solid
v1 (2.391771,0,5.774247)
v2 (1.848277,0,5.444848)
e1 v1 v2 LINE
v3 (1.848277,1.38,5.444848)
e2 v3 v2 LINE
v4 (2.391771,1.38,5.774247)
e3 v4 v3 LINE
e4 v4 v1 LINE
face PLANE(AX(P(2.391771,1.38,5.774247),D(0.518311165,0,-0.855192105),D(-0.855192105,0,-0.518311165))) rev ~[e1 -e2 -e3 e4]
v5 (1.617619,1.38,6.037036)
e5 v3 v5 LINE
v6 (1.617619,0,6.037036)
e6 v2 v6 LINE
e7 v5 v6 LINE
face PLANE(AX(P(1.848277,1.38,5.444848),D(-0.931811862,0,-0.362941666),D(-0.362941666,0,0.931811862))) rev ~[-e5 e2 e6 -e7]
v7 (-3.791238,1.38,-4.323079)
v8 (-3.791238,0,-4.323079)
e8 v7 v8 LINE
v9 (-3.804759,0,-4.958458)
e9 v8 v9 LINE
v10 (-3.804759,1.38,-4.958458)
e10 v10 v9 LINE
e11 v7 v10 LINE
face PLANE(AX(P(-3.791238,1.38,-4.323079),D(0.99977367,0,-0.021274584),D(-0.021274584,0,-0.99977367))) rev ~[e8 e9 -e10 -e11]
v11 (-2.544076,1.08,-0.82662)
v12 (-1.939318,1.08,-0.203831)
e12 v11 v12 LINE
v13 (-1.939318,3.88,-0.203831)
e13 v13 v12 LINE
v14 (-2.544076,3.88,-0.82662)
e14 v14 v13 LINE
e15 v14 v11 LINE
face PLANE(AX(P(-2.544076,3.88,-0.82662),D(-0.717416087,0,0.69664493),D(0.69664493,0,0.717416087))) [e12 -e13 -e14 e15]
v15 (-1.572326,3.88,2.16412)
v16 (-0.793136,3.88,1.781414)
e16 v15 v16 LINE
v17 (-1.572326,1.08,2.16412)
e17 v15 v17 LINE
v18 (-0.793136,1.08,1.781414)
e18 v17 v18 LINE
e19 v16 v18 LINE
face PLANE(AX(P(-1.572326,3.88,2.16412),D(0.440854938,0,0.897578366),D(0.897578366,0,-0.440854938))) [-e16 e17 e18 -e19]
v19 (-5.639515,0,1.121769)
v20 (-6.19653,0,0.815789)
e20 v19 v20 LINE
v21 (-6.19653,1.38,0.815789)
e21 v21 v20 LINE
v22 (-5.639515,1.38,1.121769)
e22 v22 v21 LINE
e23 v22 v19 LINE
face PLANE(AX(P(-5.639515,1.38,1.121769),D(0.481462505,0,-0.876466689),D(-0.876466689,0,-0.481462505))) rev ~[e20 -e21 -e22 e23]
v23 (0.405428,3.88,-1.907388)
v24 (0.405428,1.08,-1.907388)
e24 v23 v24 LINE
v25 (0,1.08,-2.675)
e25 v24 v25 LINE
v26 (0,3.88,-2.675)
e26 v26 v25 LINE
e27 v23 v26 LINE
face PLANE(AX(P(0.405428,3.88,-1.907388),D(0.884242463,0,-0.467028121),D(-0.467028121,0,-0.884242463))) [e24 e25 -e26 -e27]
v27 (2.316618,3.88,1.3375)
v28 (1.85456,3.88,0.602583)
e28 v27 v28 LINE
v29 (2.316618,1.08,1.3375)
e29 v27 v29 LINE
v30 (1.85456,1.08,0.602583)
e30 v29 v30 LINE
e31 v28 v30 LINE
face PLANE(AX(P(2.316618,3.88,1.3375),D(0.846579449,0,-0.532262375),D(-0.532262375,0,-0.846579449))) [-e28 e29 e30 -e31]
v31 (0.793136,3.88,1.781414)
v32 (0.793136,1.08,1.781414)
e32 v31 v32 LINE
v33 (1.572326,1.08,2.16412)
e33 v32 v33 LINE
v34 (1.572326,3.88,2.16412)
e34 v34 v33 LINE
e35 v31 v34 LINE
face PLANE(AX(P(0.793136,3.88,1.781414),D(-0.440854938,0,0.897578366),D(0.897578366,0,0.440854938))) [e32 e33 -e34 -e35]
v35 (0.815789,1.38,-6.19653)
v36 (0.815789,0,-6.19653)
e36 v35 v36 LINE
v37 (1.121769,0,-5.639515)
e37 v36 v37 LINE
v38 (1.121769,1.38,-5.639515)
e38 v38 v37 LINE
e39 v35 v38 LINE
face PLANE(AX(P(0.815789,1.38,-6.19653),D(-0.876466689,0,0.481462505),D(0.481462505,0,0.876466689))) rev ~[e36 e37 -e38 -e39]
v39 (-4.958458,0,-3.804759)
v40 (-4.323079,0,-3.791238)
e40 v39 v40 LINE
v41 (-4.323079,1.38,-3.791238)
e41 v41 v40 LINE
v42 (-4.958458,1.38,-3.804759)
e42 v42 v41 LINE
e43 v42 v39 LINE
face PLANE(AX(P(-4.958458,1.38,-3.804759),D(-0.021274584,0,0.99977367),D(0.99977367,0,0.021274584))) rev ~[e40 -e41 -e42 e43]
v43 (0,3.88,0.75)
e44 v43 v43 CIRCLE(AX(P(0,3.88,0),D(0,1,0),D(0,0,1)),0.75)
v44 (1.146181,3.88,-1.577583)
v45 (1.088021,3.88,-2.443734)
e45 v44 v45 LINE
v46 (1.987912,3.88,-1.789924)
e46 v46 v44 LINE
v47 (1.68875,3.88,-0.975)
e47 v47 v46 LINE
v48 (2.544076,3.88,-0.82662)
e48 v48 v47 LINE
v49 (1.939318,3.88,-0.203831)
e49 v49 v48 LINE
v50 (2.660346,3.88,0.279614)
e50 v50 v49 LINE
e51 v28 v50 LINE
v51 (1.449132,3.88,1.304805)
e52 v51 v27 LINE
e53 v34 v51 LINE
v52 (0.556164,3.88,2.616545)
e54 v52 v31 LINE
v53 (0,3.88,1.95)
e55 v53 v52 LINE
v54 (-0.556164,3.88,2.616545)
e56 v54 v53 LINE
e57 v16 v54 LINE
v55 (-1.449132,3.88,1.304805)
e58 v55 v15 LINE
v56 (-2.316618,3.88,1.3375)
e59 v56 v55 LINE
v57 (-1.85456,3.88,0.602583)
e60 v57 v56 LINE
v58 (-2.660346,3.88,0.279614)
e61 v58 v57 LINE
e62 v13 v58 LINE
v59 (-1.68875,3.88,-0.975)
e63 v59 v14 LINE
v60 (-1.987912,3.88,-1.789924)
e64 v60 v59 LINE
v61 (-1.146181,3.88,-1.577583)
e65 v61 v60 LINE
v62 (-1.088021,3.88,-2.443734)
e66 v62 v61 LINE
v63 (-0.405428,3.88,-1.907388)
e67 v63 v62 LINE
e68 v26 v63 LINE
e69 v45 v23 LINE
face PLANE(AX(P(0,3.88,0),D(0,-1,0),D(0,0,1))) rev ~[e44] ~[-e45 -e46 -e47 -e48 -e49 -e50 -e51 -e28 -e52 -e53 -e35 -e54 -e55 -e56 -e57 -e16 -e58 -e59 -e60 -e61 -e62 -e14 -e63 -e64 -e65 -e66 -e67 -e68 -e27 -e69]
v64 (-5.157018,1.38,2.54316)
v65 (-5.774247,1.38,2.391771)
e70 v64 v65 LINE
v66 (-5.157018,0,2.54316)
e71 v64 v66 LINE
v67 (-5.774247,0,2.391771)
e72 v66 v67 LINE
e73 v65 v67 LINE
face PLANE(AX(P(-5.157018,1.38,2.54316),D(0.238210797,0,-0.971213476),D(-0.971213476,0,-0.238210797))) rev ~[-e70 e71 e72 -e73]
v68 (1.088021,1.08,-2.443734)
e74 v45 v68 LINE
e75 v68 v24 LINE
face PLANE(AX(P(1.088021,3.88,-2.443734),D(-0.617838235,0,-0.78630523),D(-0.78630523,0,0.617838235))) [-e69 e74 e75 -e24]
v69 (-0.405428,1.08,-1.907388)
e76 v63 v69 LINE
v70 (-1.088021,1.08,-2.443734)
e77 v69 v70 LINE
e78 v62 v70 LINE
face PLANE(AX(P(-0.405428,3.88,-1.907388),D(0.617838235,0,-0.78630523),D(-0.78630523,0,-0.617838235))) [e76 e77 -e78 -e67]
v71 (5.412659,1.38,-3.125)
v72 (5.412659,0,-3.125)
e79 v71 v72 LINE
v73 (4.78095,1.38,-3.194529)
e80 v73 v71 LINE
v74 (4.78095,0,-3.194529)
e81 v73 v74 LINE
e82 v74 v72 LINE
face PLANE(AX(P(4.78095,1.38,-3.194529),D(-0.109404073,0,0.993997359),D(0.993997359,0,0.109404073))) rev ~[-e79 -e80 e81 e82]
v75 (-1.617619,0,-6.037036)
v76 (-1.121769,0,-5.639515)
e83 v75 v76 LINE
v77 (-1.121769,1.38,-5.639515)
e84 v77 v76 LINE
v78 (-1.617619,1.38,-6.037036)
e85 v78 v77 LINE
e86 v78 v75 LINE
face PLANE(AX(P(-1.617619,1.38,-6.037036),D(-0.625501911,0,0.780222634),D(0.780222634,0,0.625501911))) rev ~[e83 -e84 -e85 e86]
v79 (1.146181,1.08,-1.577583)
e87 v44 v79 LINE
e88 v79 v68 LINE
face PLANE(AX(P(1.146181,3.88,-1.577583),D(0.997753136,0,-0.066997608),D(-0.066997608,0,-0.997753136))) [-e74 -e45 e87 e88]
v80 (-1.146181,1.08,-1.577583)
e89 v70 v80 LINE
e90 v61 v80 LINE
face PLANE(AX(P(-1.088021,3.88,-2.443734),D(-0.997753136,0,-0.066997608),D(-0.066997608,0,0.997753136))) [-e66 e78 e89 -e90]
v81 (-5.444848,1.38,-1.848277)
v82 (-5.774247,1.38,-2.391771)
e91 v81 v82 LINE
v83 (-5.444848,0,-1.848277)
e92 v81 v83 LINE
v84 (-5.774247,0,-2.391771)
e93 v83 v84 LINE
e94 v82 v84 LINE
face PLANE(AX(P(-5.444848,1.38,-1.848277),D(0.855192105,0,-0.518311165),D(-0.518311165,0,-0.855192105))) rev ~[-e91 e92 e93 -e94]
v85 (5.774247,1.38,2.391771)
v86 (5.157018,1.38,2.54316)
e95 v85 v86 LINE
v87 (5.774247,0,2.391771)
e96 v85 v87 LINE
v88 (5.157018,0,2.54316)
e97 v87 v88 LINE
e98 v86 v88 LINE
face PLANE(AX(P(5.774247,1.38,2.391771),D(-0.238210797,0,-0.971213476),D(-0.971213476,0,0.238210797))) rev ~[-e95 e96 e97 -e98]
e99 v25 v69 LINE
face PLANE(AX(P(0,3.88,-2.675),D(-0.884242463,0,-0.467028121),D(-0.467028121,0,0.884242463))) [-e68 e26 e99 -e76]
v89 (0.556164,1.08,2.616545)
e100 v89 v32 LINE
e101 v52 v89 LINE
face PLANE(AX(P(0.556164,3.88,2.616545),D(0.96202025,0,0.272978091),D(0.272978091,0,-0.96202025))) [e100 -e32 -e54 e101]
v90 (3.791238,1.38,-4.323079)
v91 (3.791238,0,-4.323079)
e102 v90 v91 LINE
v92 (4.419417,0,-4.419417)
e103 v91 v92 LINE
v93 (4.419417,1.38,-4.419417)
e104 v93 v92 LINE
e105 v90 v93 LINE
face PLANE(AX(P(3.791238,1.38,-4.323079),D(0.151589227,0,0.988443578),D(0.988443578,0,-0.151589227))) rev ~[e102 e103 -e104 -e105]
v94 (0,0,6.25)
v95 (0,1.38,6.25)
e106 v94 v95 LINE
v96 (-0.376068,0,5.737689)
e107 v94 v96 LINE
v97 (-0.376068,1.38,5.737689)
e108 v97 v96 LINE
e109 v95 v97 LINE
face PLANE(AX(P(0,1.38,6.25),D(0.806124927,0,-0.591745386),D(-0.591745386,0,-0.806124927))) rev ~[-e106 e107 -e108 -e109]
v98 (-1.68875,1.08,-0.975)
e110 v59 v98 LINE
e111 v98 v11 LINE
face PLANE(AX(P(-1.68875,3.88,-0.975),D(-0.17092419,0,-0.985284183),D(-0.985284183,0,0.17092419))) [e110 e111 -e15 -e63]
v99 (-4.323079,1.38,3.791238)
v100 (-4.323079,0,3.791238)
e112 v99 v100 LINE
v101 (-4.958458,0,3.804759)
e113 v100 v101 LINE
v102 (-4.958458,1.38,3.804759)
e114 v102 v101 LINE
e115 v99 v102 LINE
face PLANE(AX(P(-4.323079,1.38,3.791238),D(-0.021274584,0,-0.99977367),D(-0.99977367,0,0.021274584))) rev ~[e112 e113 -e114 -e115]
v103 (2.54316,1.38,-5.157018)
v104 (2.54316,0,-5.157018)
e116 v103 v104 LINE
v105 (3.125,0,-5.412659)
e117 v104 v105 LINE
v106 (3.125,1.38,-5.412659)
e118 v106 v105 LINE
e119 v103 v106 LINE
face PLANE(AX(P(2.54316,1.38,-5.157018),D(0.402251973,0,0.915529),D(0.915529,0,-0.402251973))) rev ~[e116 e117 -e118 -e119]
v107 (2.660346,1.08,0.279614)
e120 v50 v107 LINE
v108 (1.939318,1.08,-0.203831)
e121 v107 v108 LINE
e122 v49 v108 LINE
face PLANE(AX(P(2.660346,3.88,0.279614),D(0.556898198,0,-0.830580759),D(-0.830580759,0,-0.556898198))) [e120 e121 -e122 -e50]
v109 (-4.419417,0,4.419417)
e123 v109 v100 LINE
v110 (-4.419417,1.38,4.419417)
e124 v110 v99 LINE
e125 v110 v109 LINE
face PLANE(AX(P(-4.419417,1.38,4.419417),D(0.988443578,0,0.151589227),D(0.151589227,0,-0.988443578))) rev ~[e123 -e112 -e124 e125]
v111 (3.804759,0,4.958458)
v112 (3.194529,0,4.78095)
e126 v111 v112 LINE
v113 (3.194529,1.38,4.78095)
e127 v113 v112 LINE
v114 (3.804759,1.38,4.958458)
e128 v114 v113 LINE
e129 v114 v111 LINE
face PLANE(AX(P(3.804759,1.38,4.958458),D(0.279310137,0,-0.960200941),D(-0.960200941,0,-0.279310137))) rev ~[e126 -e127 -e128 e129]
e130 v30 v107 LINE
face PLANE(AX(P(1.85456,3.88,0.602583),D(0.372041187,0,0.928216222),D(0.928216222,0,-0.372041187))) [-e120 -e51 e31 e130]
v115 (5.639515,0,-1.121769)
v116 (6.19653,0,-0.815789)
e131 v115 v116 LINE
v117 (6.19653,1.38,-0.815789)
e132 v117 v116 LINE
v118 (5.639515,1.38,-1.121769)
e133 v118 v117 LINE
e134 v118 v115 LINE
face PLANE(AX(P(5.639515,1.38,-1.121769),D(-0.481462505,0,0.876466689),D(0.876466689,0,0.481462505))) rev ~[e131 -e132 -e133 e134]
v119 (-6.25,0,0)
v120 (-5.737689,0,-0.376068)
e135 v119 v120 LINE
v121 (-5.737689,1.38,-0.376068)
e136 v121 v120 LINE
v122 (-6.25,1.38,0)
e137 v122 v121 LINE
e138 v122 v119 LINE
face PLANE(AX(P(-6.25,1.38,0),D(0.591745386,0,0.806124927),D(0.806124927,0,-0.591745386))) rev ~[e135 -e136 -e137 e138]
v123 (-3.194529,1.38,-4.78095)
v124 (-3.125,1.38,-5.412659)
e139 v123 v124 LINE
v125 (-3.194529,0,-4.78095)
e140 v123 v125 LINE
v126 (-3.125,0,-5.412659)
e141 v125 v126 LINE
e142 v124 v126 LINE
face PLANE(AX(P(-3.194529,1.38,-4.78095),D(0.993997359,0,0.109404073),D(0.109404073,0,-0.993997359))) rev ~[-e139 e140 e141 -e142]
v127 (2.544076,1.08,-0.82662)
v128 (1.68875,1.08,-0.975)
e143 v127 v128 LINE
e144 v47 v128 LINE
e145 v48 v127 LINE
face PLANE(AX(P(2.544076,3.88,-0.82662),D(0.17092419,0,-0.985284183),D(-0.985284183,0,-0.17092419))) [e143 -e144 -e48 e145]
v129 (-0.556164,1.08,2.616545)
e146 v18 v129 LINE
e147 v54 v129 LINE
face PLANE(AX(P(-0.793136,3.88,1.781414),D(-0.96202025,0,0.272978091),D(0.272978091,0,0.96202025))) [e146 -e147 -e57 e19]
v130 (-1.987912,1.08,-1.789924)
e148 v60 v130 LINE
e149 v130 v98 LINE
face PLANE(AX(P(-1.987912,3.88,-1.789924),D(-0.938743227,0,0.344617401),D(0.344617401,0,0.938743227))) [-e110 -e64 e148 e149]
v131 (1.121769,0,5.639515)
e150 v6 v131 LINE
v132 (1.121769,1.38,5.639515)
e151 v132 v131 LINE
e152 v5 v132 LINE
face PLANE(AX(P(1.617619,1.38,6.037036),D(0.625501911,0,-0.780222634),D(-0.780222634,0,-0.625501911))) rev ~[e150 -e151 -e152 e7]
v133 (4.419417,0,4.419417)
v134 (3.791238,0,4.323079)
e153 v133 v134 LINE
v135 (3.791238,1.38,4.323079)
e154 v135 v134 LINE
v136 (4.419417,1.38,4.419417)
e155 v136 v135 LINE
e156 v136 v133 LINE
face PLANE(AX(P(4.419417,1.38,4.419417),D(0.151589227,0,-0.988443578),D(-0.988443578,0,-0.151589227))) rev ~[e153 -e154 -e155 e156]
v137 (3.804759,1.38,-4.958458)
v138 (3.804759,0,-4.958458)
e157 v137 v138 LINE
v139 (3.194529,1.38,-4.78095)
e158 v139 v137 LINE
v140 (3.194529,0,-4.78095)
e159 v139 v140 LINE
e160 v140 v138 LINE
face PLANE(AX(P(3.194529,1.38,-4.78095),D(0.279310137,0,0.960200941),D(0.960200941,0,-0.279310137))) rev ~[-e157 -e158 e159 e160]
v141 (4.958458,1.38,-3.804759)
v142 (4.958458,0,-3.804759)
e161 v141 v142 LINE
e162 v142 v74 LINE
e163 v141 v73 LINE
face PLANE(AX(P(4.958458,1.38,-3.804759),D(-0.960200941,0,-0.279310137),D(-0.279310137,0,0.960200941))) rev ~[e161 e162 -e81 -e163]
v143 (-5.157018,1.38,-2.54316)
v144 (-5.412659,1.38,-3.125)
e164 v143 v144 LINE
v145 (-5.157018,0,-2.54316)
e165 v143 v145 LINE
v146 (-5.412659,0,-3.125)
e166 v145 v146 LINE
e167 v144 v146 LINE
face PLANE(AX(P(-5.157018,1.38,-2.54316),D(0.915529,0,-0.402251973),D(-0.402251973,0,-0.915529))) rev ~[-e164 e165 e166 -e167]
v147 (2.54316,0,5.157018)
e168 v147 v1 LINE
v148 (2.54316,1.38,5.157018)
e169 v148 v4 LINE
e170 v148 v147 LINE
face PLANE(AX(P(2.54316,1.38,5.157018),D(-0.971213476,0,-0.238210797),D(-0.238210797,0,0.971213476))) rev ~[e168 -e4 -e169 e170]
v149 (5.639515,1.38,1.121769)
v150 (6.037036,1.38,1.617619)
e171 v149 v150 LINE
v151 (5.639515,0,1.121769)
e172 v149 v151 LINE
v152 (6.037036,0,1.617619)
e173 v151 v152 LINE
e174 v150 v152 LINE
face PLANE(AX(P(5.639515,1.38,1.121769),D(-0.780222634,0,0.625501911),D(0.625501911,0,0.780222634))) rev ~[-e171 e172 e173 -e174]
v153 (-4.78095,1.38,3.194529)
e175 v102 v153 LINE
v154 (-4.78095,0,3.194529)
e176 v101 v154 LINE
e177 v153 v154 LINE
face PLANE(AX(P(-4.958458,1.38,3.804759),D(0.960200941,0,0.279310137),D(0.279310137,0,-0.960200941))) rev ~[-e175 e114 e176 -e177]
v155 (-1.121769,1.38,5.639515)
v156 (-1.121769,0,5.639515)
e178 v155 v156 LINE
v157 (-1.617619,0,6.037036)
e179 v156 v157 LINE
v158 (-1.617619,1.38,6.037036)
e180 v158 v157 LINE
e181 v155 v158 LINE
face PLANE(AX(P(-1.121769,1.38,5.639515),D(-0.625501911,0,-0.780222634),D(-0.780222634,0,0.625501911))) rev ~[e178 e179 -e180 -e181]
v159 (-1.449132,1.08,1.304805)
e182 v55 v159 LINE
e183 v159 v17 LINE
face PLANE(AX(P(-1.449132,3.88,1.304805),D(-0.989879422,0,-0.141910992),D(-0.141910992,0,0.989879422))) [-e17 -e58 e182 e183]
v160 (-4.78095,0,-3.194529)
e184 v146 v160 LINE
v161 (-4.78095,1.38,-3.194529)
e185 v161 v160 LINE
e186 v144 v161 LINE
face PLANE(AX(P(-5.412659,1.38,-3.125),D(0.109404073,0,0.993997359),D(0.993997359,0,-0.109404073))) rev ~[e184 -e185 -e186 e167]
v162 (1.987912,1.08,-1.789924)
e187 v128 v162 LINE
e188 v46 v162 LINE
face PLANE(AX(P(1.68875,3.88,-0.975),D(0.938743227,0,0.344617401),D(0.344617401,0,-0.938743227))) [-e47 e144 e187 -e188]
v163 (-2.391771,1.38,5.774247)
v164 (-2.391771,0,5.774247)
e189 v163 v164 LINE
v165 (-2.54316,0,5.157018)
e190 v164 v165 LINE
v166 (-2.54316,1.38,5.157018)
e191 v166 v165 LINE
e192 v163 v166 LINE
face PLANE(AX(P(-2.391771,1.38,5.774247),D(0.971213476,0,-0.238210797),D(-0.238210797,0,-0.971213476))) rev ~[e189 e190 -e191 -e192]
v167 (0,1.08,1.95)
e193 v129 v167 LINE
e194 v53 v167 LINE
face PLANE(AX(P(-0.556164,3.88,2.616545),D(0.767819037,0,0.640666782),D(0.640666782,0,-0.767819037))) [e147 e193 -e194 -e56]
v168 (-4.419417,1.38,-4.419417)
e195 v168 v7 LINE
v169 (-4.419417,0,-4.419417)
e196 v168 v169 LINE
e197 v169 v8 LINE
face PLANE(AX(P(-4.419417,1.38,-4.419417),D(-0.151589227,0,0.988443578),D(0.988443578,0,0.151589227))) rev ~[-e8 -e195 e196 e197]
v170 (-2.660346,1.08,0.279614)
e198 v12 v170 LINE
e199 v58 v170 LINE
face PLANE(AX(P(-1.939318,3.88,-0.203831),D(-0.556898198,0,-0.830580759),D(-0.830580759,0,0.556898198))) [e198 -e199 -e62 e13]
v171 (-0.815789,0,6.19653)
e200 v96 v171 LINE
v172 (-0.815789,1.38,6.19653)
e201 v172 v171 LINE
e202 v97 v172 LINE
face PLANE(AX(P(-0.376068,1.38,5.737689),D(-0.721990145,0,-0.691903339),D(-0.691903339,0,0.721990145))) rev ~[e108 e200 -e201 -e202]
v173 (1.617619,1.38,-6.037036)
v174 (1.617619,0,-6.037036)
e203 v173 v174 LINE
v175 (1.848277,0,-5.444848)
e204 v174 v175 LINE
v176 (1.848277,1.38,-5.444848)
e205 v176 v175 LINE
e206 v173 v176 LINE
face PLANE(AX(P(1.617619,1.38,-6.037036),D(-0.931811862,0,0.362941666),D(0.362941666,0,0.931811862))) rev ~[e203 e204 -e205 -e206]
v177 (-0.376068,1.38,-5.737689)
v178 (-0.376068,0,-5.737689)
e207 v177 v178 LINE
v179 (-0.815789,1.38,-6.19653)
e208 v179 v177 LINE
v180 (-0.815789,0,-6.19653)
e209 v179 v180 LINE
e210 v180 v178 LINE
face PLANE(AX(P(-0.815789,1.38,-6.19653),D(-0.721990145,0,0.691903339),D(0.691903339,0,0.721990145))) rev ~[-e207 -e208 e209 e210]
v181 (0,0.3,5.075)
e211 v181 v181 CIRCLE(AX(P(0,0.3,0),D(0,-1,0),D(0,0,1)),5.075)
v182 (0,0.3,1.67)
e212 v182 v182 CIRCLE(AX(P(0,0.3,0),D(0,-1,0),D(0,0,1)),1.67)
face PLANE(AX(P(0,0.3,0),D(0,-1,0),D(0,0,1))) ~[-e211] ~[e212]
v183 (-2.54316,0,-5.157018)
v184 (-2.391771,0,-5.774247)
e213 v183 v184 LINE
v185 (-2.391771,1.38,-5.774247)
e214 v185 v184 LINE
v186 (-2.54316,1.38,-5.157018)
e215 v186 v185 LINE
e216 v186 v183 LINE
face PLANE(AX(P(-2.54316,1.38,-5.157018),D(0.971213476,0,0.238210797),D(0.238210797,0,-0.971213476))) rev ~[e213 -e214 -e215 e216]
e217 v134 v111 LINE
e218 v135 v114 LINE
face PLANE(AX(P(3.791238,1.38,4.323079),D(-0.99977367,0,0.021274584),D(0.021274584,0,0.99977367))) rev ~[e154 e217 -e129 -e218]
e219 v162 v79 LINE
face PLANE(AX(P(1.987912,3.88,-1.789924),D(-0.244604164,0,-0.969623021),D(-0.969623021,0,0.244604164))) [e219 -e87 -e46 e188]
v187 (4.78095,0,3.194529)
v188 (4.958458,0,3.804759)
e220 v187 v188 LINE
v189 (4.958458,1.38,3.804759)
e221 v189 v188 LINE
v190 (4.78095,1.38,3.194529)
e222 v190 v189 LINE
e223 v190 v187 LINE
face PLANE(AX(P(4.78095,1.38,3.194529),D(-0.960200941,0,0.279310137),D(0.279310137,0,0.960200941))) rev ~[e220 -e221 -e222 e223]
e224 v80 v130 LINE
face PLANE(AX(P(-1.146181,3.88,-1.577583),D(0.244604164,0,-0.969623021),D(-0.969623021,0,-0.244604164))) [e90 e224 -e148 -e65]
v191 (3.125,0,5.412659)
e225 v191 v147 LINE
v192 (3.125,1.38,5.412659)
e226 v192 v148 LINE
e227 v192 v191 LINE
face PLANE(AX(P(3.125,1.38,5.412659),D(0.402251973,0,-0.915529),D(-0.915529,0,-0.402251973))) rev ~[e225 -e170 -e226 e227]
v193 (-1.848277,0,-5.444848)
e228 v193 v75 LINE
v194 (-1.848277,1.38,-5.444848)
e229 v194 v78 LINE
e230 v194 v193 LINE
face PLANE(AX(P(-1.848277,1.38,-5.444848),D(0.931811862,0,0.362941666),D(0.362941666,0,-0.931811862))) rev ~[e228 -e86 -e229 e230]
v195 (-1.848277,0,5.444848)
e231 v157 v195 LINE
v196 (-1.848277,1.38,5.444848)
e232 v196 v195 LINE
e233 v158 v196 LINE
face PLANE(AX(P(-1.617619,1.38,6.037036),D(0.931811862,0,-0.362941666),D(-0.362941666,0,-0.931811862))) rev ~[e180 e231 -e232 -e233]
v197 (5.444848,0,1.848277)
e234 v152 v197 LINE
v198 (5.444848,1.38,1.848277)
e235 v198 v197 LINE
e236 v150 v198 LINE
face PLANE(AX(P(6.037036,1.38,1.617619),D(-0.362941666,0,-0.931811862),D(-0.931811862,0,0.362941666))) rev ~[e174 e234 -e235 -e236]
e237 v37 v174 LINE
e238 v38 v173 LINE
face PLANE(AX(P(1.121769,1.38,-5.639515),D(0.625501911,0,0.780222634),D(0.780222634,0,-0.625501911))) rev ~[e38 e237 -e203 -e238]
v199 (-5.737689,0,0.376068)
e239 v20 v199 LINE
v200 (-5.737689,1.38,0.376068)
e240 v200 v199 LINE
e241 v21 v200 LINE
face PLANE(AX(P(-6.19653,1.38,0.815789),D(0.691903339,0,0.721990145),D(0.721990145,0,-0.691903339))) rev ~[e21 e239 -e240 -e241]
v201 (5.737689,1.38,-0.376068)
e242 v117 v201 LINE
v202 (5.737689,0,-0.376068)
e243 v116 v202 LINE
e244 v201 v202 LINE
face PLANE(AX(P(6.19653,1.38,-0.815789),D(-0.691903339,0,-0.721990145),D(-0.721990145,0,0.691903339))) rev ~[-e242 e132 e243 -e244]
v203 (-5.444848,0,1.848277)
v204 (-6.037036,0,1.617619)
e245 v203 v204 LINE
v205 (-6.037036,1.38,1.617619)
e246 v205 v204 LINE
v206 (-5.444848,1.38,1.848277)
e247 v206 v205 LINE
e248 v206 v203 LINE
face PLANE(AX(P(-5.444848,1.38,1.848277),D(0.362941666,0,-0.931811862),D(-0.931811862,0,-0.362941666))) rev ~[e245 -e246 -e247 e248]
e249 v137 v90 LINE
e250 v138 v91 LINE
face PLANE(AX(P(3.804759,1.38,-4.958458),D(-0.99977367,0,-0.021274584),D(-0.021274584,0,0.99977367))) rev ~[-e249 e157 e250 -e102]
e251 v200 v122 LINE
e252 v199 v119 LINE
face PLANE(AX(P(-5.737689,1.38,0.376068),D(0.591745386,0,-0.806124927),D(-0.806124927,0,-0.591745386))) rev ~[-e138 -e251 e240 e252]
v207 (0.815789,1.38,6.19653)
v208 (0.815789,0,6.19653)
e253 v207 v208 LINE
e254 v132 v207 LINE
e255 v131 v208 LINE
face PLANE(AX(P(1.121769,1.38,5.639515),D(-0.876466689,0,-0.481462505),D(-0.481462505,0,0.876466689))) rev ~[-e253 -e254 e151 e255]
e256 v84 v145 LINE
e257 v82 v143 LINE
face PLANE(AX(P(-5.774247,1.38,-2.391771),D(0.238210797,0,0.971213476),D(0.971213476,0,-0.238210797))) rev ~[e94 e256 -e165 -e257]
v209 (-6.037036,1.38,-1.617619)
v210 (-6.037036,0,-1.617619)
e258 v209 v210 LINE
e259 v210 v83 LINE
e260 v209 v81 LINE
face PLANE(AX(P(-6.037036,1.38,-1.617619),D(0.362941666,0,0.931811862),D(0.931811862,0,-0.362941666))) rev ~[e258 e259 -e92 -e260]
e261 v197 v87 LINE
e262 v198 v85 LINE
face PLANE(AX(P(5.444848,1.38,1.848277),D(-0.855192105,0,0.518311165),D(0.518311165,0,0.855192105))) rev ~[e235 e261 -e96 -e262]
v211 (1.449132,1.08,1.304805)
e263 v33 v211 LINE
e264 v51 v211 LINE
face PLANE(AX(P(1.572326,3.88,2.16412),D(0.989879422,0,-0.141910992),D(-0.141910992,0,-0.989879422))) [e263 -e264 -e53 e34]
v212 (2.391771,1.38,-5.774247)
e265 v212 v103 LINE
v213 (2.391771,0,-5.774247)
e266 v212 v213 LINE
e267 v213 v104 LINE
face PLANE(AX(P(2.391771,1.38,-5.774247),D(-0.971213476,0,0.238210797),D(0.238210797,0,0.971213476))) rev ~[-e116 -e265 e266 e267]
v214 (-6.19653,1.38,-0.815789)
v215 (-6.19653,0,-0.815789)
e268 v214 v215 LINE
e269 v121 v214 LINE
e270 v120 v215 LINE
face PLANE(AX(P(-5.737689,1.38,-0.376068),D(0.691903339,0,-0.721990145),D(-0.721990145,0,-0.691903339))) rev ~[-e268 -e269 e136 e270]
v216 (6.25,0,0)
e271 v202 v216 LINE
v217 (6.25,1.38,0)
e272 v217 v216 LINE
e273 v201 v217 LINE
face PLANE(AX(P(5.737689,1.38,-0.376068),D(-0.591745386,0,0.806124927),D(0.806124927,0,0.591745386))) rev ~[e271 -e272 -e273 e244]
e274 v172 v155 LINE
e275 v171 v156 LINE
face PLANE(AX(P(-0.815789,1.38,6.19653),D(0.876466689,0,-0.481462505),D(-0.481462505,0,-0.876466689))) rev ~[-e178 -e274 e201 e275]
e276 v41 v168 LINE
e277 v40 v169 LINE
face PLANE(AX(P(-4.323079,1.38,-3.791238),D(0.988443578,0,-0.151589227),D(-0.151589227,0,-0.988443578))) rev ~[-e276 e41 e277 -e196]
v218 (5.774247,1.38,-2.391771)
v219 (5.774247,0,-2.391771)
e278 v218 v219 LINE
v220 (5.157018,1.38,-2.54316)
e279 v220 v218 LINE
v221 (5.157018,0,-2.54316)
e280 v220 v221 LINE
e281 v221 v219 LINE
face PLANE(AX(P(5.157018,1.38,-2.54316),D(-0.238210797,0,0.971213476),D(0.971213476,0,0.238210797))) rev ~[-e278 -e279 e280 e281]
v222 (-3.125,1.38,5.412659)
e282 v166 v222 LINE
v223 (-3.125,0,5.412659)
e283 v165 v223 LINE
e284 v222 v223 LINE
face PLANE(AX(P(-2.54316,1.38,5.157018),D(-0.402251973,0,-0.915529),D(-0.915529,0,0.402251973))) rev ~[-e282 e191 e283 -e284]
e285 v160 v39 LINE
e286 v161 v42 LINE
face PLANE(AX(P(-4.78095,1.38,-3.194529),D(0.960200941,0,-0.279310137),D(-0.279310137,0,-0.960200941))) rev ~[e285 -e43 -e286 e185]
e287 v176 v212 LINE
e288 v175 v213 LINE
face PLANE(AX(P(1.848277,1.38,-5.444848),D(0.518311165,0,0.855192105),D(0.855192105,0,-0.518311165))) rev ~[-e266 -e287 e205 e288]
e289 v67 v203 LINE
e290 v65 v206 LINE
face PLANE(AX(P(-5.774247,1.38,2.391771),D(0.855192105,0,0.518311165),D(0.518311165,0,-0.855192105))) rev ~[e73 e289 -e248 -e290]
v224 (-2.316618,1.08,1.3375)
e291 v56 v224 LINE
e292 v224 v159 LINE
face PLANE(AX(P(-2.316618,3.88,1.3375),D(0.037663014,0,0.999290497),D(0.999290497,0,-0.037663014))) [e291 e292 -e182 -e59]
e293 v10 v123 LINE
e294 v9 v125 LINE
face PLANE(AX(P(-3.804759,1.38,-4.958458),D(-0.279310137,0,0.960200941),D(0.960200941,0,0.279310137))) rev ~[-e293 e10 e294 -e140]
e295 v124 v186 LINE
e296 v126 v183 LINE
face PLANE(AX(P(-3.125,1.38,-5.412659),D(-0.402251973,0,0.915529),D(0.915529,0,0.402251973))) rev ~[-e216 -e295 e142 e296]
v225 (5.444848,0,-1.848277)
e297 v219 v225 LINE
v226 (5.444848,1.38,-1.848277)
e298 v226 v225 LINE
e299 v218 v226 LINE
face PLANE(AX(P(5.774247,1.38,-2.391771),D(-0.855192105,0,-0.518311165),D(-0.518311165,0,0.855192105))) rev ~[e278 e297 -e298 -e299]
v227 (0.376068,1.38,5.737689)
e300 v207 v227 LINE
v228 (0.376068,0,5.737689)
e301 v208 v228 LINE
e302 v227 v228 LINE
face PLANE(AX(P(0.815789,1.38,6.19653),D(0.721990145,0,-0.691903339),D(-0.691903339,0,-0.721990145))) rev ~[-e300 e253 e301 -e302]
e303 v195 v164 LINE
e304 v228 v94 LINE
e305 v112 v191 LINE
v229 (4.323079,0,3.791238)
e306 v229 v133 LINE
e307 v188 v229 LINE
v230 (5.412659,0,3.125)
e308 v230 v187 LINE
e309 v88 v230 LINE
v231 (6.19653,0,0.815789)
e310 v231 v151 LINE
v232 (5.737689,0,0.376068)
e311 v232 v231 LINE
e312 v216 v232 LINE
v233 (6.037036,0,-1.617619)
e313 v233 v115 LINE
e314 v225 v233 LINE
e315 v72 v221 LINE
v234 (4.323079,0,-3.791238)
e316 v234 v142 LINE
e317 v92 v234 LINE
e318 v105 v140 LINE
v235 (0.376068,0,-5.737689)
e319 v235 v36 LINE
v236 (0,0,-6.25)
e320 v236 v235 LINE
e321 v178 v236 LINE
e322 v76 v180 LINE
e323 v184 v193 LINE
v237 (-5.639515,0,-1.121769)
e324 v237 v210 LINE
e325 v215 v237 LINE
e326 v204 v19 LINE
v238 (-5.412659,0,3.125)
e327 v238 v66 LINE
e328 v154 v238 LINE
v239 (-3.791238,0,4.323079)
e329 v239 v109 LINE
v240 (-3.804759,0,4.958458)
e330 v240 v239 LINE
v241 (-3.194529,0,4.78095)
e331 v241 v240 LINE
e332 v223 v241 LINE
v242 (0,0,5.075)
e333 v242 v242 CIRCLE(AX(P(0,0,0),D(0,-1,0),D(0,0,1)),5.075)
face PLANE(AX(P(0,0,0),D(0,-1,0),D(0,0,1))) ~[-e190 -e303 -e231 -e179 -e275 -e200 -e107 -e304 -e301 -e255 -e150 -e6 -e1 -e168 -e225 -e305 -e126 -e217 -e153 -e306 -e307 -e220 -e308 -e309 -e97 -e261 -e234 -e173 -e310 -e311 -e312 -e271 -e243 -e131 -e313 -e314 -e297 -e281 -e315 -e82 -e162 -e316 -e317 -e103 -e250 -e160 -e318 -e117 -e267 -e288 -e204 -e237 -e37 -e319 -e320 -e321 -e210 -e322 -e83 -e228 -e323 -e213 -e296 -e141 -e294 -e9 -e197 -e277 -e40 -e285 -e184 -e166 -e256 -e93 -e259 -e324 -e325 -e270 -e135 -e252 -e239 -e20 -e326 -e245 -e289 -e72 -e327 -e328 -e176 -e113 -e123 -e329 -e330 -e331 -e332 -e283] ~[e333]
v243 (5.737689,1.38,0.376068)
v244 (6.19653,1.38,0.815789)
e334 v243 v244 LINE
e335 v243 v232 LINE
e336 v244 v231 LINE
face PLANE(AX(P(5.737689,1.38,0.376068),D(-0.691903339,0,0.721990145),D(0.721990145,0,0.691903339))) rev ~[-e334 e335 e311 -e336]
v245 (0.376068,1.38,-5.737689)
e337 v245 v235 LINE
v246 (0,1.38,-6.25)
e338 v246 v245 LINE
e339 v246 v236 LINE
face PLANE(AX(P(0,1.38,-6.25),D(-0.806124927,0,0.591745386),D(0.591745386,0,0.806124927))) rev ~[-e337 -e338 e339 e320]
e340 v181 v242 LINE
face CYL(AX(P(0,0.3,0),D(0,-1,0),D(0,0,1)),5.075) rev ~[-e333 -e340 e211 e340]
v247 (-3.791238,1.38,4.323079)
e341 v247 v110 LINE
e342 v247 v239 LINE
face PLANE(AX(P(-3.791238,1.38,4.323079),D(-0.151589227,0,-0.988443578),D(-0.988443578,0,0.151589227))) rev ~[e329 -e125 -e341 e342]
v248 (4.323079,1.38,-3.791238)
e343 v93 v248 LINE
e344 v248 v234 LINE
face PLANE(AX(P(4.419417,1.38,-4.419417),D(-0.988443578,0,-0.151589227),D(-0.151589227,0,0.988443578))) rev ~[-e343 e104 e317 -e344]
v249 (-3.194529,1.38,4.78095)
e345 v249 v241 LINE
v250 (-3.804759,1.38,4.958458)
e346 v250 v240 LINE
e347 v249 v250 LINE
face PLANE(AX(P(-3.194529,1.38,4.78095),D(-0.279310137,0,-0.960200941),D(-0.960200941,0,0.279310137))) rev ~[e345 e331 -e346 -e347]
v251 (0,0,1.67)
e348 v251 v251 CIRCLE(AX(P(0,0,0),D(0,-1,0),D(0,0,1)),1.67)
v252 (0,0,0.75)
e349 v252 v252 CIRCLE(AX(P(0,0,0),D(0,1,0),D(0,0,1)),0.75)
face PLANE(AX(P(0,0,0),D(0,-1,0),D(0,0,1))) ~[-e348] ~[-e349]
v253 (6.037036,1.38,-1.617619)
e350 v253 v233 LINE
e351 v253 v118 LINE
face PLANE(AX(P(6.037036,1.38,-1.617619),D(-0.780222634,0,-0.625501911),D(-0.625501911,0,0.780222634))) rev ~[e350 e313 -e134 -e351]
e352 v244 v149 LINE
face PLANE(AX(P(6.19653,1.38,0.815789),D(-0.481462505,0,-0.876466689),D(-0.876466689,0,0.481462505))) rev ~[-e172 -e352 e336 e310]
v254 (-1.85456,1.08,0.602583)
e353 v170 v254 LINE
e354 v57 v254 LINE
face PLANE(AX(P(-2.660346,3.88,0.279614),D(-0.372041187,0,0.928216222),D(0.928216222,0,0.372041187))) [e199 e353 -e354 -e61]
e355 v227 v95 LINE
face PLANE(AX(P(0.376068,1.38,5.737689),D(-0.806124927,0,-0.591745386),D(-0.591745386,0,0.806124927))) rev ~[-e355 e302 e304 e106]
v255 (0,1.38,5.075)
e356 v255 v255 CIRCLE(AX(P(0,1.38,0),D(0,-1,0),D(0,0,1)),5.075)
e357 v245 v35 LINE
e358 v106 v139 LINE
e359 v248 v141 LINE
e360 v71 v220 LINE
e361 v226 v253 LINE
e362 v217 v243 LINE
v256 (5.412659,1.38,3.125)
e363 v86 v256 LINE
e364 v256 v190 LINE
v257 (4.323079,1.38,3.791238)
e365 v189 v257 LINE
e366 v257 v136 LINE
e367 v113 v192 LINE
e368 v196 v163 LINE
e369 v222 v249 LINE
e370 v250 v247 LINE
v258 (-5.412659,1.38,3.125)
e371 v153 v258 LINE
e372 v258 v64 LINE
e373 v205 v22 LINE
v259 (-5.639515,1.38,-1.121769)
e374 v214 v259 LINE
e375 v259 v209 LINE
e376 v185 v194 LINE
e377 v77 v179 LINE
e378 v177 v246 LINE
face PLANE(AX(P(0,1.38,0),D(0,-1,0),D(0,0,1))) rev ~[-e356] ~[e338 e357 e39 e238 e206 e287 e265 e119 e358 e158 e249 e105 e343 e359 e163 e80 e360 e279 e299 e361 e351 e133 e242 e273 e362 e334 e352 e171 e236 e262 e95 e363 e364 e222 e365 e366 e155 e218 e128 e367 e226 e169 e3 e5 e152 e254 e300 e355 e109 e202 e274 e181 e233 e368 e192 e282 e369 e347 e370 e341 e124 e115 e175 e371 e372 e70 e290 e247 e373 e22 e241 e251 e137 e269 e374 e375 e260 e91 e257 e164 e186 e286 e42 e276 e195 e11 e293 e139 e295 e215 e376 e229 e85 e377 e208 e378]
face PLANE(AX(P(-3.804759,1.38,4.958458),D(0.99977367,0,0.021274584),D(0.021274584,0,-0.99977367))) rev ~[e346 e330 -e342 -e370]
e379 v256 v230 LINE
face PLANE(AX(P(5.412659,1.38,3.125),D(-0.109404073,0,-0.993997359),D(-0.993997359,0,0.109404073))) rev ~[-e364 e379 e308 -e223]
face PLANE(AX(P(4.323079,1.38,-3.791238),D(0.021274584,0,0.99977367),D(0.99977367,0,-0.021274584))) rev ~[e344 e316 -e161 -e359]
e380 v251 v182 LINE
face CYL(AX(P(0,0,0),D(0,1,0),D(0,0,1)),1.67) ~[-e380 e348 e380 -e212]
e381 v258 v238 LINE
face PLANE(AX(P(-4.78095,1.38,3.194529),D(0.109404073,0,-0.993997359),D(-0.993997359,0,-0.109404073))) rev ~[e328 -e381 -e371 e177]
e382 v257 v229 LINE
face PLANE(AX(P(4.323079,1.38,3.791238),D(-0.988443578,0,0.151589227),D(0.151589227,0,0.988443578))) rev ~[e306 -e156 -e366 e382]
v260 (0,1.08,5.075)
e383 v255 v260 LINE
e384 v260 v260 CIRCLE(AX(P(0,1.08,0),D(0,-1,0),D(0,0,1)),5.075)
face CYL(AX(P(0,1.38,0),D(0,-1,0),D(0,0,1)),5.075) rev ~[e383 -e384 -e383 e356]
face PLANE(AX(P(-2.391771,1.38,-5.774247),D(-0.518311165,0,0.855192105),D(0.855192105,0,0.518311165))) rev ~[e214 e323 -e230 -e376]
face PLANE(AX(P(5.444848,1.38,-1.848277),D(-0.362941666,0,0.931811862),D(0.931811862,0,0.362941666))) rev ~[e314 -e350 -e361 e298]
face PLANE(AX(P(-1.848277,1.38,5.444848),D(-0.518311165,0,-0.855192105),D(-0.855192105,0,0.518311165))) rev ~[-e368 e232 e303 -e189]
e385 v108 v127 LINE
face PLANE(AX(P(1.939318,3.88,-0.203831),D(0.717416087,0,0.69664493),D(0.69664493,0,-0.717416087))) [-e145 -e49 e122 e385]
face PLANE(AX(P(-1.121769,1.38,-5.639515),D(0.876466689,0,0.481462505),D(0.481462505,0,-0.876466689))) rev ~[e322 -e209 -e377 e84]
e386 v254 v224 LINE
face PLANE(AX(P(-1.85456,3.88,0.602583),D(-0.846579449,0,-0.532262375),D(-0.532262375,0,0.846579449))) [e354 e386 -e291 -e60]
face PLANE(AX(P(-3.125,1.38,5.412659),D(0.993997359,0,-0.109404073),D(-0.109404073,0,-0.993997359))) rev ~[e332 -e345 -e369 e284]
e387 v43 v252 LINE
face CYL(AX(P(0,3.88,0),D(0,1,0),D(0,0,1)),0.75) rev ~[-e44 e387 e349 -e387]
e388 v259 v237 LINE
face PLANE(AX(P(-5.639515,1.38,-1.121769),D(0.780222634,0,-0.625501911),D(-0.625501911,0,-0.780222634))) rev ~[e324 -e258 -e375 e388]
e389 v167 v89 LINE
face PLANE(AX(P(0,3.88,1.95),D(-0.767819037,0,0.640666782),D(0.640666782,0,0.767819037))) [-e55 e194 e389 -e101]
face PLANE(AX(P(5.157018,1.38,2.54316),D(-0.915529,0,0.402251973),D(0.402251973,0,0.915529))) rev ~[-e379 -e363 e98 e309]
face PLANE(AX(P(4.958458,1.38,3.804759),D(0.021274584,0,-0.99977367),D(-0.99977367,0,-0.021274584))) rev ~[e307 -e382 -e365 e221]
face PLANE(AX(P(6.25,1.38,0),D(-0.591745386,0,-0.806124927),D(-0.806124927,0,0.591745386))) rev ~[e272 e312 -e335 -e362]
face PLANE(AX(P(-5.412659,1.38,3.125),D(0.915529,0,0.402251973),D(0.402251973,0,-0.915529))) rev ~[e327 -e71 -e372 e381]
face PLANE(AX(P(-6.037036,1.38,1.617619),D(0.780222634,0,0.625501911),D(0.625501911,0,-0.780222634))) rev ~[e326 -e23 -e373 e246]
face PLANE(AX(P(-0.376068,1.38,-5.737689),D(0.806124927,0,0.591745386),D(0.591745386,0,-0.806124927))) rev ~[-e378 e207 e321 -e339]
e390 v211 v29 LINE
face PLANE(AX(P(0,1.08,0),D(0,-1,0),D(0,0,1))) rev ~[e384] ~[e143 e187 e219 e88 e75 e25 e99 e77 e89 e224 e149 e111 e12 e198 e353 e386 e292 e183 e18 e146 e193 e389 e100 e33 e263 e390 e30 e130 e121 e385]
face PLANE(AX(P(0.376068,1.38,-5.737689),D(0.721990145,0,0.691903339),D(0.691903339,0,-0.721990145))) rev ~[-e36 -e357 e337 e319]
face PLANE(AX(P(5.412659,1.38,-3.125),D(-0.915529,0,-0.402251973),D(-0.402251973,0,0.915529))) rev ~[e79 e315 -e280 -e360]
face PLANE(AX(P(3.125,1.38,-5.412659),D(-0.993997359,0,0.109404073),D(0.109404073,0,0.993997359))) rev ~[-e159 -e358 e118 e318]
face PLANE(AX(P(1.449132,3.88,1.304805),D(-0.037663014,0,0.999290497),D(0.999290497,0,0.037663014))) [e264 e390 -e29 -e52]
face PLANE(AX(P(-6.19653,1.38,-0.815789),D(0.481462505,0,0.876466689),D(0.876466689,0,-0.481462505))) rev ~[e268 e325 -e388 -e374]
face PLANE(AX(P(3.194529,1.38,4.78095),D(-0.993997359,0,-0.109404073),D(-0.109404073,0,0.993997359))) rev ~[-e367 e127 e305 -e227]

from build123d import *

# Parameters (mm, degrees)
SKETCH2_R          = 7.25
CUT_EXTRUDE1_DEPTH = 10.185586535
SKETCH3_R          = 3.175
CUT_EXTRUDE3_DEPTH = 2.8
SKETCH4_R          = 0.75
CUT_EXTRUDE4_DEPTH = 10.652947736


with BuildPart() as part:
    # Sketch1 → Revolve1 (revolve)
    with BuildSketch(Plane.XY, mode=Mode.PRIVATE) as revolve1_sk:
        Polygon((0, 3.88), (0, 0), (1.67, 0), (1.67, 0.3), (5.075, 0.3), (5.075, 0), (6.25, 0), (6.25, 1.38), (5.075, 1.38), (5.075, 1.08), (2.675, 1.08), (2.675, 3.88), align=None)
    revolve(revolve1_sk.sketch.rotate(Axis((0, 3.88, 0), (0, -1, 0)), 90), axis=Axis((0, 3.88, 0), (0, -1, 0)))

    # Sketch2 → Cut-Extrude1 (cut, through all)
    with BuildSketch(Plane(origin=(0, 1.38, 0), x_dir=(1, 0, 0), z_dir=(0, 1, 0))):
        Circle(SKETCH2_R)
        Polygon((-0.376067993, 5.737688809), (0, 6.25), (0.376067993, 5.737688809), (0.815788701, 6.196530384), (1.121769352, 5.639515362), (1.617619032, 6.037036414), (1.848276925, 5.444848245), (2.391771452, 5.774247078), (2.543159969, 5.157018264), (3.125, 5.412658774), (3.19452884, 4.780950271), (3.804758931, 4.958458377), (3.791238437, 4.323078893), (4.419417382, 4.419417382), (4.323078893, 3.791238437), (4.958458377, 3.804758931), (4.780950271, 3.19452884), (5.412658774, 3.125), (5.157018264, 2.543159969), (5.774247078, 2.391771452), (5.444848245, 1.848276925), (6.037036414, 1.617619032), (5.639515362, 1.121769352), (6.196530384, 0.815788701), (5.737688809, 0.376067993), (6.25, 0), (5.737688809, -0.376067993), (6.196530384, -0.815788701), (5.639515362, -1.121769352), (6.037036414, -1.617619032), (5.444848245, -1.848276925), (5.774247078, -2.391771452), (5.157018264, -2.543159969), (5.412658774, -3.125), (4.780950271, -3.19452884), (4.958458377, -3.804758931), (4.323078893, -3.791238437), (4.419417382, -4.419417382), (3.791238437, -4.323078893), (3.804758931, -4.958458377), (3.19452884, -4.780950271), (3.125, -5.412658774), (2.543159969, -5.157018264), (2.391771452, -5.774247078), (1.848276925, -5.444848245), (1.617619032, -6.037036414), (1.121769352, -5.639515362), (0.815788701, -6.196530384), (0.376067993, -5.737688809), (0, -6.25), (-0.376067993, -5.737688809), (-0.815788701, -6.196530384), (-1.121769352, -5.639515362), (-1.617619032, -6.037036414), (-1.848276925, -5.444848245), (-2.391771452, -5.774247078), (-2.543159969, -5.157018264), (-3.125, -5.412658774), (-3.19452884, -4.780950271), (-3.804758931, -4.958458377), (-3.791238437, -4.323078893), (-4.419417382, -4.419417382), (-4.323078893, -3.791238437), (-4.958458377, -3.804758931), (-4.780950271, -3.19452884), (-5.412658774, -3.125), (-5.157018264, -2.543159969), (-5.774247078, -2.391771452), (-5.444848245, -1.848276925), (-6.037036414, -1.617619032), (-5.639515362, -1.121769352), (-6.196530384, -0.815788701), (-5.737688809, -0.376067993), (-6.25, 0), (-5.737688809, 0.376067993), (-6.196530384, 0.815788701), (-5.639515362, 1.121769352), (-6.037036414, 1.617619032), (-5.444848245, 1.848276925), (-5.774247078, 2.391771452), (-5.157018264, 2.543159969), (-5.412658774, 3.125), (-4.780950271, 3.19452884), (-4.958458377, 3.804758931), (-4.323078893, 3.791238437), (-4.419417382, 4.419417382), (-3.791238437, 4.323078893), (-3.804758931, 4.958458377), (-3.19452884, 4.780950271), (-3.125, 5.412658774), (-2.543159969, 5.157018264), (-2.391771452, 5.774247078), (-1.848276925, 5.444848245), (-1.617619032, 6.037036414), (-1.121769352, 5.639515362), (-0.815788701, 6.196530384), align=None, mode=Mode.SUBTRACT)
    extrude(amount=-CUT_EXTRUDE1_DEPTH, mode=Mode.SUBTRACT)

    # Sketch3 → Cut-Extrude3 (cut)
    with BuildSketch(Plane(origin=(0, 3.88, 0), x_dir=(1, 0, 0), z_dir=(0, 1, 0))):
        Circle(SKETCH3_R)
        Polygon((0, 2.675), (-0.405427797, 1.907387821), (-1.08802052, 2.443734099), (-1.146181242, 1.577583139), (-1.987912408, 1.789924372), (-1.688749537, 0.975), (-2.544076181, 0.82662046), (-1.939317696, 0.203830503), (-2.66034607, -0.279613639), (-1.854560207, -0.602583139), (-2.316617955, -1.3375), (-1.44913241, -1.304804682), (-1.57232555, -2.16412046), (-0.793136454, -1.781413642), (-0.556163773, -2.616544832), (0, -1.95), (0.556163773, -2.616544832), (0.793136454, -1.781413642), (1.57232555, -2.16412046), (1.44913241, -1.304804682), (2.316617955, -1.3375), (1.854560207, -0.602583139), (2.66034607, -0.279613639), (1.939317696, 0.203830503), (2.544076181, 0.82662046), (1.688749537, 0.975), (1.987912408, 1.789924372), (1.146181242, 1.577583139), (1.08802052, 2.443734099), (0.405427797, 1.907387821), align=None, mode=Mode.SUBTRACT)
    extrude(amount=-CUT_EXTRUDE3_DEPTH, mode=Mode.SUBTRACT)

    # Sketch4 → Cut-Extrude4 (cut, through all)
    with BuildSketch(Plane(origin=(0, 3.88, 0), x_dir=(1, 0, 0), z_dir=(0, 1, 0))):
        with Locations(Location((0, 0, 0), (0, 0, 270))):
            Circle(SKETCH4_R)
    extrude(amount=-CUT_EXTRUDE4_DEPTH, mode=Mode.SUBTRACT)


solid = part.part
